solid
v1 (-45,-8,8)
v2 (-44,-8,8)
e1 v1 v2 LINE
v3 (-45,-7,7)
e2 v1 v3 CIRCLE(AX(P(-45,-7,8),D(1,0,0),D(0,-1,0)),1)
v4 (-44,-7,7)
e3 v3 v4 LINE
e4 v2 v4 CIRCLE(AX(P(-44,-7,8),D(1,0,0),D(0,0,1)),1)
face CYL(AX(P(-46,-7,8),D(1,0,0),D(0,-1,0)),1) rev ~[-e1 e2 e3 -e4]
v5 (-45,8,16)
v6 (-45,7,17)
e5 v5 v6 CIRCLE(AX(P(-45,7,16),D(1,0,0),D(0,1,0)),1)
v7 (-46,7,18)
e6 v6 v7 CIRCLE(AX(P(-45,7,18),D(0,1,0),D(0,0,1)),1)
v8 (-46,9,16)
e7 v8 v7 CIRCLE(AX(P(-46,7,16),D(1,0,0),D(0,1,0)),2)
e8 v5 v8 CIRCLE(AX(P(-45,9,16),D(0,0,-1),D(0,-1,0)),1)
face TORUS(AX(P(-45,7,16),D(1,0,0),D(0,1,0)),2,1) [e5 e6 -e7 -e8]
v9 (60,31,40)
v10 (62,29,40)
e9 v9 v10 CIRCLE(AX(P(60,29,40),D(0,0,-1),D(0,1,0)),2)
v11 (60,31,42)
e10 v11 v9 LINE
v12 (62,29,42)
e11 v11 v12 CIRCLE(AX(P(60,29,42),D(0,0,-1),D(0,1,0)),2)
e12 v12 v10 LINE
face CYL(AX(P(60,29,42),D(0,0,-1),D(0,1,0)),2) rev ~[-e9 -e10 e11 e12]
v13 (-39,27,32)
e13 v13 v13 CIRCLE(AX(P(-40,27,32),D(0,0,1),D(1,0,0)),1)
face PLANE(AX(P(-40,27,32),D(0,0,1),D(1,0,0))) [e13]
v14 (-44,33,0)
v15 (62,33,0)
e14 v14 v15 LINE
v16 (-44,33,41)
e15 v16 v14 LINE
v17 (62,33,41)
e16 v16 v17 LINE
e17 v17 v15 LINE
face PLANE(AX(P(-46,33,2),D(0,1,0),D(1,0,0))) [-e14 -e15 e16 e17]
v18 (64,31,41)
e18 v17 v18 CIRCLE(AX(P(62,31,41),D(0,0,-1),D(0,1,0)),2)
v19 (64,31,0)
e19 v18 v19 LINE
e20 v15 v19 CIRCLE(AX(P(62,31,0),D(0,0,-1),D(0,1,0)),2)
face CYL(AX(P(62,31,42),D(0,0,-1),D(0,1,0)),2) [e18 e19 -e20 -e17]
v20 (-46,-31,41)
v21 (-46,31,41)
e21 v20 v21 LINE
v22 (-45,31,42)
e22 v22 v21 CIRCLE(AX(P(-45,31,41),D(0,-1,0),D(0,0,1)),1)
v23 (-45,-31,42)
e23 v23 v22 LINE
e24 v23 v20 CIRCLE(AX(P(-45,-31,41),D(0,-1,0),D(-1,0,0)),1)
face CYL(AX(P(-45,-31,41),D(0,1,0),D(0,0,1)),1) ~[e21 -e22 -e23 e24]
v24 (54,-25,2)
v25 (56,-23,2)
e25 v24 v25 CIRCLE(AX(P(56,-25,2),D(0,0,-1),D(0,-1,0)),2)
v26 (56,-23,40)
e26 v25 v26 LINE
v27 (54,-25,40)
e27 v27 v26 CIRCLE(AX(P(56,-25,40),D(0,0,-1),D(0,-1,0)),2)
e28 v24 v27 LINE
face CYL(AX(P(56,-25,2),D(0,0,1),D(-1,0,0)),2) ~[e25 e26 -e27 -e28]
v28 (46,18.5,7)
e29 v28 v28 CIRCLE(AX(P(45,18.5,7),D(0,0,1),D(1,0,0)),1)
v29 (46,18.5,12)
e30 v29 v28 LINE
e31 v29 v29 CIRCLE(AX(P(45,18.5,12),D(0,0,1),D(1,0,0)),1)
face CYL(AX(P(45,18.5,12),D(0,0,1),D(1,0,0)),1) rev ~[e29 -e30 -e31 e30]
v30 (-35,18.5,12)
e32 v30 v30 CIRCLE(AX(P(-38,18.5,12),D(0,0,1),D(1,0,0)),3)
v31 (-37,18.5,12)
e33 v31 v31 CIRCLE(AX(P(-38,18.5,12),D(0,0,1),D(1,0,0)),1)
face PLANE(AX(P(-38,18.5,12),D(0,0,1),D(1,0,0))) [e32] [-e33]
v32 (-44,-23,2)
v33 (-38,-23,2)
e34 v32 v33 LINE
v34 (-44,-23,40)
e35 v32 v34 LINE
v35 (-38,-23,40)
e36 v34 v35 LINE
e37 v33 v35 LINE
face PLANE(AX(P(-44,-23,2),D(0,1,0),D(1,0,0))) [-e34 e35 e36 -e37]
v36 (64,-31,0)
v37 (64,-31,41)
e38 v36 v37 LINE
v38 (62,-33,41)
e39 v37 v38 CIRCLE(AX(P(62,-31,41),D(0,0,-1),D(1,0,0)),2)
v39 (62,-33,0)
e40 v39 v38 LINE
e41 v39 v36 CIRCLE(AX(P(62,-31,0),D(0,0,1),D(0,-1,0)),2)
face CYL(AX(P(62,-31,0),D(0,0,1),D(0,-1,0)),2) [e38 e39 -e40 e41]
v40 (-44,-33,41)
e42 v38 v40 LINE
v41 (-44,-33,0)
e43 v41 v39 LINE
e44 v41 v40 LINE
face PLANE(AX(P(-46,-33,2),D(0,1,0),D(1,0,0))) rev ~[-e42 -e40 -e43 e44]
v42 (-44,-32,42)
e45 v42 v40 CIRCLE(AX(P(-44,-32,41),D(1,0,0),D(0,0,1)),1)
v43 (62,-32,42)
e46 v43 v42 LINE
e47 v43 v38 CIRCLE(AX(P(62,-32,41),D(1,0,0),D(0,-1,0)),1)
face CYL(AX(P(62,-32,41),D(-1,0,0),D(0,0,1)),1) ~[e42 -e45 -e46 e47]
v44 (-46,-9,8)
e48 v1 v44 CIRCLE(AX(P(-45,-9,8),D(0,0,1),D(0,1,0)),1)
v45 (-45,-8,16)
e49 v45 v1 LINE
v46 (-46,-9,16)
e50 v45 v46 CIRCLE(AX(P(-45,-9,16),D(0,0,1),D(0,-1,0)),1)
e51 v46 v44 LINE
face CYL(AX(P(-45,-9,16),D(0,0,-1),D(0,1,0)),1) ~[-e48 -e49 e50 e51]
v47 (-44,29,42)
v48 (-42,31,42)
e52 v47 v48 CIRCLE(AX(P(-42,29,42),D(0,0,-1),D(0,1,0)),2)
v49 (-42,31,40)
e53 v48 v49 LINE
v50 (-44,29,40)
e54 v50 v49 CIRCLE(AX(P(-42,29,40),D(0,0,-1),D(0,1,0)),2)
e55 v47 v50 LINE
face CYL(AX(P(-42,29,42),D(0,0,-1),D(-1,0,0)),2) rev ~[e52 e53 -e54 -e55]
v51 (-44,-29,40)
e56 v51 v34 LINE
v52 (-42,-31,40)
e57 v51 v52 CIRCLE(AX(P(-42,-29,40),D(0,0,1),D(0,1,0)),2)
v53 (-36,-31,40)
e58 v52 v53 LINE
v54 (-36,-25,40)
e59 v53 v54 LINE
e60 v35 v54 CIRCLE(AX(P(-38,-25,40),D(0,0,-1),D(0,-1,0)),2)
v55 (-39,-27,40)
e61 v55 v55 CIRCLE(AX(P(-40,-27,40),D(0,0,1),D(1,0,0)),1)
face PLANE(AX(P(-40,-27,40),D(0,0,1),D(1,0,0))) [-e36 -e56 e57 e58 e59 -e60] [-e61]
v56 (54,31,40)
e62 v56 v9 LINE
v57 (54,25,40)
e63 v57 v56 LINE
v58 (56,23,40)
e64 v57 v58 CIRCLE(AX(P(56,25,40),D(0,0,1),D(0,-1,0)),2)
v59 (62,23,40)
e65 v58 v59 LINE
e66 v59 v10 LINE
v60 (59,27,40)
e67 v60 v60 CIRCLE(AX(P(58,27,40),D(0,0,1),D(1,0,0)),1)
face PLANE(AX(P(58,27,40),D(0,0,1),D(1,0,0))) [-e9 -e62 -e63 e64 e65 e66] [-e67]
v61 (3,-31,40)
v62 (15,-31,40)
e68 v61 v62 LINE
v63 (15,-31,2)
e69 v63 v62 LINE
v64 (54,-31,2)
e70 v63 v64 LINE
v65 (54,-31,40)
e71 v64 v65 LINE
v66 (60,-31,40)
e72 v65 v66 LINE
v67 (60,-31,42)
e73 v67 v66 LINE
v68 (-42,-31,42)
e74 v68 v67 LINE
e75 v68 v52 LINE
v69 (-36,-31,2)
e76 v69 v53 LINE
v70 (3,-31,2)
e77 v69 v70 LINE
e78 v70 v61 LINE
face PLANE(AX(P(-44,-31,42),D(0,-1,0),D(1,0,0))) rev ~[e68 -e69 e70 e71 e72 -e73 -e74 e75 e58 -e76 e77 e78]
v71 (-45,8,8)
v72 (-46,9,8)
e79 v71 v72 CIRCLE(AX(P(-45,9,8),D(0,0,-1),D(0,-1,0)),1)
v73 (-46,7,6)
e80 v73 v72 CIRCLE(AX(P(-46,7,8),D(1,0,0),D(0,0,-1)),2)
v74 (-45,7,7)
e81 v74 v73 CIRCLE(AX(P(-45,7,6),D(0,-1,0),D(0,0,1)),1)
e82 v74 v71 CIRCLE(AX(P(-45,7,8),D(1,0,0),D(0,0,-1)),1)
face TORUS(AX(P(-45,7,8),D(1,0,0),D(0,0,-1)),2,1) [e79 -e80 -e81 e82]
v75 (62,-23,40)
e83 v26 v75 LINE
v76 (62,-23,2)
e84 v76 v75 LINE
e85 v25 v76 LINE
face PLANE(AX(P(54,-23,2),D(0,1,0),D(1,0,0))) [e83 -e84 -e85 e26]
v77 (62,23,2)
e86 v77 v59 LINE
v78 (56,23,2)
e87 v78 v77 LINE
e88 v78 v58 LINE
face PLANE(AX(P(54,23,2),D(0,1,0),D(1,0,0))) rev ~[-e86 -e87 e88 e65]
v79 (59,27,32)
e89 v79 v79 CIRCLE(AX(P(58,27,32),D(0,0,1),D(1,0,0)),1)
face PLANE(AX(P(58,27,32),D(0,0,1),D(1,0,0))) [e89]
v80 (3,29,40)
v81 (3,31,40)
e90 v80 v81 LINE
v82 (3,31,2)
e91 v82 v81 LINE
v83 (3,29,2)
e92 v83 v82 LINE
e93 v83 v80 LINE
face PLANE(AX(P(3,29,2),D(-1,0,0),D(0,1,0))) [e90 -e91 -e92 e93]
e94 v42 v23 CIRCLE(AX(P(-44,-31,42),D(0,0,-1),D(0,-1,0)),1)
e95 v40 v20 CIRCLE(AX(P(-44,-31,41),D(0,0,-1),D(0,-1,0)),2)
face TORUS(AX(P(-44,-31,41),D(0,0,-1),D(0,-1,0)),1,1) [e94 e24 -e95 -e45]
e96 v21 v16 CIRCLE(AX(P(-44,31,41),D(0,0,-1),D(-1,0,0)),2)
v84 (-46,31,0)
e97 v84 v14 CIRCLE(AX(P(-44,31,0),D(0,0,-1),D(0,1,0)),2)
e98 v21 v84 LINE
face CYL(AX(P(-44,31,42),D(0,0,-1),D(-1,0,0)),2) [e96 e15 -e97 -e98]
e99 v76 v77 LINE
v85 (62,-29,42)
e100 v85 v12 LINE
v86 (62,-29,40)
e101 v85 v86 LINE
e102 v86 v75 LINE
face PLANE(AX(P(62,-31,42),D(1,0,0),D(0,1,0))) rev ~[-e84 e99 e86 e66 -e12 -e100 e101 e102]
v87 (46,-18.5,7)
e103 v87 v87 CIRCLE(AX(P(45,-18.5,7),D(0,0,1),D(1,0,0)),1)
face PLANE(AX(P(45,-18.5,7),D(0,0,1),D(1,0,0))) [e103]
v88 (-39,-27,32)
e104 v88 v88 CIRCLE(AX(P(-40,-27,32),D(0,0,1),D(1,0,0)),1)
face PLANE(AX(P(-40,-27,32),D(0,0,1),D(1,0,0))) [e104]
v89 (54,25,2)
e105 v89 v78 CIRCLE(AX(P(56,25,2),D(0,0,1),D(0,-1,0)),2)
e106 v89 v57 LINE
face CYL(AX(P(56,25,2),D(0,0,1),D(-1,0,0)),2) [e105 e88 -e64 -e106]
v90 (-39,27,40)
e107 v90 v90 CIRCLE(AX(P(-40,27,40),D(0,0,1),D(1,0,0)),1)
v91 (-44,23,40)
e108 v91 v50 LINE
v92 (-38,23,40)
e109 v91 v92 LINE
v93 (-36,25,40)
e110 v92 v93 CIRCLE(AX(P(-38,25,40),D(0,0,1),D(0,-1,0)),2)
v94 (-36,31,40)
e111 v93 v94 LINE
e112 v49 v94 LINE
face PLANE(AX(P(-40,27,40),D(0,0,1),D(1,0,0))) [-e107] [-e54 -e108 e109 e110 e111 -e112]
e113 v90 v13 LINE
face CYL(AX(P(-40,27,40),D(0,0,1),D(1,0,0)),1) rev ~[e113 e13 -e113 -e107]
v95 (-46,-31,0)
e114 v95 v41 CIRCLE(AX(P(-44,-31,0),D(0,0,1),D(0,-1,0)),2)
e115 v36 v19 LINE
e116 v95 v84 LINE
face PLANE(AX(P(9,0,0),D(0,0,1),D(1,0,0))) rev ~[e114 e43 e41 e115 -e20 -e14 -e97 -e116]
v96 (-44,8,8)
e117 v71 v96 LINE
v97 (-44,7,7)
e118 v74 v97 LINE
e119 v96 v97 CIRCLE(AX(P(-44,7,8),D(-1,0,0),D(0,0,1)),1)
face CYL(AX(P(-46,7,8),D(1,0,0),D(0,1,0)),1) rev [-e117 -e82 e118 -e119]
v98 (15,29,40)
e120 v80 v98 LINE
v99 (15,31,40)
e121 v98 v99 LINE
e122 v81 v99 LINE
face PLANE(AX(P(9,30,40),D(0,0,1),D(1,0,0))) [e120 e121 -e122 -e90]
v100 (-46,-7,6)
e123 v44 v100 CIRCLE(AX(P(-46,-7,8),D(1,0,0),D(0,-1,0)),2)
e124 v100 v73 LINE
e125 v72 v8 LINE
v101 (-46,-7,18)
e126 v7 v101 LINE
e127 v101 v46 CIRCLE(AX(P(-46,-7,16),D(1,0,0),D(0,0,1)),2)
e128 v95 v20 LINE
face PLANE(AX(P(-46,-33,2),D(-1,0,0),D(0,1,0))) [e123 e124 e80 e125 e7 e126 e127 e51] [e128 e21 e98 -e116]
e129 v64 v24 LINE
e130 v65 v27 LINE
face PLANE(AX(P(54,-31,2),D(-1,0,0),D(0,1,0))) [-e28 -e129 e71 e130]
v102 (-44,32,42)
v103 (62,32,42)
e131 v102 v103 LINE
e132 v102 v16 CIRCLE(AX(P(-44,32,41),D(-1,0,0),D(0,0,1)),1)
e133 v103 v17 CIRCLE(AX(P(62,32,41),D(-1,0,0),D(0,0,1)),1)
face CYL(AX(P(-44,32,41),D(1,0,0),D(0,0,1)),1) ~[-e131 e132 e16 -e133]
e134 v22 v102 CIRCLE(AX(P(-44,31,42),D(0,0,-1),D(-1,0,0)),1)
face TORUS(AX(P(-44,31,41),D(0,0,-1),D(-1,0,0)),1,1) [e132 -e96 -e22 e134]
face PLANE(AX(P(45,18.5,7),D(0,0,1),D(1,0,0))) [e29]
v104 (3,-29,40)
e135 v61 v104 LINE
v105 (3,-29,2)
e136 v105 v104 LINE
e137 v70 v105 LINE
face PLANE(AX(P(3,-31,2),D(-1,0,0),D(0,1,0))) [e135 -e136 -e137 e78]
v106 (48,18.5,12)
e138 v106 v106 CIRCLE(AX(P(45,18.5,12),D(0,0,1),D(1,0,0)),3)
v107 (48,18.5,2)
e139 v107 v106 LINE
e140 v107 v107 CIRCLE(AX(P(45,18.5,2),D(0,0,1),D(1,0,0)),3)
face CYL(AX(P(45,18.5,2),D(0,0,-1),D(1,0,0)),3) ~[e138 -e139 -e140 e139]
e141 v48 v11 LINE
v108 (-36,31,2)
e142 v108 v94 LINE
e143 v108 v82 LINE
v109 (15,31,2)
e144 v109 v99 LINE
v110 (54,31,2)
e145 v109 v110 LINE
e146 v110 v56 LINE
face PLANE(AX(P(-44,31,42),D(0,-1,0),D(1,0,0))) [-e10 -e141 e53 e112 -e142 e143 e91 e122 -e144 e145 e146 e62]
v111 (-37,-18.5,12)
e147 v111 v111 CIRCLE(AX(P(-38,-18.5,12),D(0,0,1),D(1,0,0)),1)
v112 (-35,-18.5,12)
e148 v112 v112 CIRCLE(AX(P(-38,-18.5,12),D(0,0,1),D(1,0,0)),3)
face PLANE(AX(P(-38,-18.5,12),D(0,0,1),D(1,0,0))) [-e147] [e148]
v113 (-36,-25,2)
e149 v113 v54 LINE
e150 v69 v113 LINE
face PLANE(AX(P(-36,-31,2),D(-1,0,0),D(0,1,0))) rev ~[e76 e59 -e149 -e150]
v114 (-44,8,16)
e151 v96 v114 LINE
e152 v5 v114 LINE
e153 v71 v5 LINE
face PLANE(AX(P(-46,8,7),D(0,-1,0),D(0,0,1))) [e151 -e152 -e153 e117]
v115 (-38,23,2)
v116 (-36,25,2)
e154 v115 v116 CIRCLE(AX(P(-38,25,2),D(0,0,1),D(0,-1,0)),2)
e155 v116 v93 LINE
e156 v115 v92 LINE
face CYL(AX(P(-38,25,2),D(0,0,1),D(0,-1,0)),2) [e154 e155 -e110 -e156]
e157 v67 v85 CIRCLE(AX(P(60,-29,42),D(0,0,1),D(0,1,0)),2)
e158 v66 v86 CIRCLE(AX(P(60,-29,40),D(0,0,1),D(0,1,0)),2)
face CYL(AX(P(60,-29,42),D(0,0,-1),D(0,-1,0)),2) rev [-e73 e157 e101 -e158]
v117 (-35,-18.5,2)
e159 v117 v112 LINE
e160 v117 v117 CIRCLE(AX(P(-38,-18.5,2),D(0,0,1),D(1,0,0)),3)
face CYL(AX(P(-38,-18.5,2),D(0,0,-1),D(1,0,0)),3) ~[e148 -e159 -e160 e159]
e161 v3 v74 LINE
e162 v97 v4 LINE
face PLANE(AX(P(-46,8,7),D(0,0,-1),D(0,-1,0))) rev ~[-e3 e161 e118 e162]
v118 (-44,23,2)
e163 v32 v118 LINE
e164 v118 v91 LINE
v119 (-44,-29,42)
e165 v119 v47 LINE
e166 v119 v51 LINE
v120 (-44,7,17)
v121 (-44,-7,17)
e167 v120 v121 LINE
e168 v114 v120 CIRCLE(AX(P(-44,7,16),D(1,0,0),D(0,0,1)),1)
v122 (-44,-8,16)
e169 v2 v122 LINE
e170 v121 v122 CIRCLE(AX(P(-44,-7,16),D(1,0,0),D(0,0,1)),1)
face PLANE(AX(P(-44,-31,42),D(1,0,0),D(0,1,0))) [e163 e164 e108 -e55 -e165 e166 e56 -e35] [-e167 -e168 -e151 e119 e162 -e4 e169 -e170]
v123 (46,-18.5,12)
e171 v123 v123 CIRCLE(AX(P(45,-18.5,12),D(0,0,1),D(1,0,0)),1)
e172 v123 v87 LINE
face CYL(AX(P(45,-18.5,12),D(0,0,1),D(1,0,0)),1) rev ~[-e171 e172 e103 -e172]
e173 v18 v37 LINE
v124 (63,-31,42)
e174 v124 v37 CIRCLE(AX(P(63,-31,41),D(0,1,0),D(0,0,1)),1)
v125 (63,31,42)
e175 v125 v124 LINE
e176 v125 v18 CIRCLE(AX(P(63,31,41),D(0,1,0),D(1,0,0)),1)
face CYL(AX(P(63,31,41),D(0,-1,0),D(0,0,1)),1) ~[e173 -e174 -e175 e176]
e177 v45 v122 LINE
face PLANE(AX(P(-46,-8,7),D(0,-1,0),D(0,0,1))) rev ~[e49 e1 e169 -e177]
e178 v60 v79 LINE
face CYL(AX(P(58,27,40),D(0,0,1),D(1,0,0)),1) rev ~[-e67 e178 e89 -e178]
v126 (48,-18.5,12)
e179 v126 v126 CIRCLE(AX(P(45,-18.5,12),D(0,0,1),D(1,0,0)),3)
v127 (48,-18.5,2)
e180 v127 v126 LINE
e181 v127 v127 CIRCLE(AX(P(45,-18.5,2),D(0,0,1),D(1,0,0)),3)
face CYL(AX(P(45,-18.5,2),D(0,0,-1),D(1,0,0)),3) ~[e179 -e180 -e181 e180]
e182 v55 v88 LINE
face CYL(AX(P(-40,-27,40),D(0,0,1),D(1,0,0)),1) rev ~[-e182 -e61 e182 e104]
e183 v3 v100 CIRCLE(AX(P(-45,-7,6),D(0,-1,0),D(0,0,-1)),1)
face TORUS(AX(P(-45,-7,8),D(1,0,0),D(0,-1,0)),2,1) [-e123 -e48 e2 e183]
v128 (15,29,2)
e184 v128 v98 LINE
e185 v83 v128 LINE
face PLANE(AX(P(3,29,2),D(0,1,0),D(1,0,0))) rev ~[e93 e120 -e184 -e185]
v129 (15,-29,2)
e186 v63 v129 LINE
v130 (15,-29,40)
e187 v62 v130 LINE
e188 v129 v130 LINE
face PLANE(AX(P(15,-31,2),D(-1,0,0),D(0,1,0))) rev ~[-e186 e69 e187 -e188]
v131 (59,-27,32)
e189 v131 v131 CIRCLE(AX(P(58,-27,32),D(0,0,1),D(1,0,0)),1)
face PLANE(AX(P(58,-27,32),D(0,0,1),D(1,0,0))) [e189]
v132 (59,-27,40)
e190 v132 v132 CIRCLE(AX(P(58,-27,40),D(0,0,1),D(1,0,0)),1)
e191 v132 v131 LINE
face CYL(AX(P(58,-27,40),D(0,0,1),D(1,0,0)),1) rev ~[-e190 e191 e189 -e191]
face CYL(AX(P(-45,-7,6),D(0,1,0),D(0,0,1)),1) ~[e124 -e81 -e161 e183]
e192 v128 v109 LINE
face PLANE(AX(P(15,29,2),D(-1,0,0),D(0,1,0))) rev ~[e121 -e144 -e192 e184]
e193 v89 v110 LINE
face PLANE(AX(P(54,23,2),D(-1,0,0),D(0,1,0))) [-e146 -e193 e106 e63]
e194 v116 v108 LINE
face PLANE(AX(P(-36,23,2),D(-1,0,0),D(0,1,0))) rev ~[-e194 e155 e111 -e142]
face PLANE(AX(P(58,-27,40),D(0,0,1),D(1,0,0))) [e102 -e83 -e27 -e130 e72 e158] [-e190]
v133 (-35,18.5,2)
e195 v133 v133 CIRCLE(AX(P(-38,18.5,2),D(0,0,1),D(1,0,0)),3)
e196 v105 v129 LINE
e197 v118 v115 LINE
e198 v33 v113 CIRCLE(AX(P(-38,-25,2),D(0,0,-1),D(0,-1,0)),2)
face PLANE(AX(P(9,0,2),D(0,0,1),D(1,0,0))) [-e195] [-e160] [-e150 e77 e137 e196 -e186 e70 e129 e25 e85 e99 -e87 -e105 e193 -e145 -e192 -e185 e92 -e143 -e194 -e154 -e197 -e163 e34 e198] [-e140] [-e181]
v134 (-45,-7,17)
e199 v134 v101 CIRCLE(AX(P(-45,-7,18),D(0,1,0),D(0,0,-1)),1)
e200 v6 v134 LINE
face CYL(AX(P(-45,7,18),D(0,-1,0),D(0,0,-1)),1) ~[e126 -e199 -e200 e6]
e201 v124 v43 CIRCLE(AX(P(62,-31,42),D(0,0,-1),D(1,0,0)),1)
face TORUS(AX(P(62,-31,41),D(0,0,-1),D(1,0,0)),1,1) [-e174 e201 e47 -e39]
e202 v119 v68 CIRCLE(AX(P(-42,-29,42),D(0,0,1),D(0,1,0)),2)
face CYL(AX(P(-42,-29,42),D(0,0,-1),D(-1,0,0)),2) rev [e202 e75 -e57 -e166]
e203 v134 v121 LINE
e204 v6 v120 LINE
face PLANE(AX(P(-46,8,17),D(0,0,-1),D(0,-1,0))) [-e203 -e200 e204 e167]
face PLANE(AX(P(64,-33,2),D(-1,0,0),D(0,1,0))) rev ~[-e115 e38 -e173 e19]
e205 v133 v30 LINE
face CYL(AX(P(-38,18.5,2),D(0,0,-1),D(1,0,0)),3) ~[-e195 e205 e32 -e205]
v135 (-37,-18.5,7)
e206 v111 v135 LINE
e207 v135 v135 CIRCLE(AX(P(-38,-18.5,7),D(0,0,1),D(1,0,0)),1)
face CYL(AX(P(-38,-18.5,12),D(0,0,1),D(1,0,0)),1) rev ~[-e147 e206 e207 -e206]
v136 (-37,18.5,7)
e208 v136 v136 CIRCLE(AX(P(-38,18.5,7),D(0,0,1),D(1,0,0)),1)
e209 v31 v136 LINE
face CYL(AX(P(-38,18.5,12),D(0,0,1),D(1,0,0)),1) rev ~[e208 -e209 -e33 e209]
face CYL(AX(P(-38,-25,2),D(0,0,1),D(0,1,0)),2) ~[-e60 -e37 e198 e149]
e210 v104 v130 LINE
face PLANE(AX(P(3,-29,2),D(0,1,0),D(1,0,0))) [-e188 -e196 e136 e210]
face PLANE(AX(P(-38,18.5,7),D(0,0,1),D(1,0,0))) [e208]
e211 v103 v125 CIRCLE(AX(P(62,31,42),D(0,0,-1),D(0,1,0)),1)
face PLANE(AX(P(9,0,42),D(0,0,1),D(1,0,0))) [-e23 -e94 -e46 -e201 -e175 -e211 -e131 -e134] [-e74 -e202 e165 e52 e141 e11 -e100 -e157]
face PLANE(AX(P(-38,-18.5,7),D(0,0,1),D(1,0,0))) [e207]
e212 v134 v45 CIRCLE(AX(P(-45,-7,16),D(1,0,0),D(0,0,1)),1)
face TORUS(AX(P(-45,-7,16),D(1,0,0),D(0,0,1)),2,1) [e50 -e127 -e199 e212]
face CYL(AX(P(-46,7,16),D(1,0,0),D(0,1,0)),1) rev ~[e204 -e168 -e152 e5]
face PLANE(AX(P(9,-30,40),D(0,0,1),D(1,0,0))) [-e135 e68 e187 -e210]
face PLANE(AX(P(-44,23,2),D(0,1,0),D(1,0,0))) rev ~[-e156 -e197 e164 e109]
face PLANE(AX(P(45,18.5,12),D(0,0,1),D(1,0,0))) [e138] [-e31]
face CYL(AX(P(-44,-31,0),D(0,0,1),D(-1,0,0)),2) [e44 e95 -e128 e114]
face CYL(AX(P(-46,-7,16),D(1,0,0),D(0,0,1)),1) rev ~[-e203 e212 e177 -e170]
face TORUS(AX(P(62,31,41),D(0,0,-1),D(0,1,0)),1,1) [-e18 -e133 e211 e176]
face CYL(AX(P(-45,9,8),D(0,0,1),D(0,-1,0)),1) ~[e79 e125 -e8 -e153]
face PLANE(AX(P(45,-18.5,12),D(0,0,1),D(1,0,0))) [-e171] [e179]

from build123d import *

# Parameters (mm, degrees)
SKETCH008_W     = 110
SKETCH008_H     = 66
PAD006_DEPTH    = 2
SKETCH010_W     = 110
SKETCH010_H     = 66
PAD008_DEPTH    = 40
SKETCH011_W     = 106
SKETCH011_H     = 62
POCKET003_DEPTH = 40
SKETCH012_W     = 8
SKETCH012_H     = 8
PAD009_DEPTH    = 38
FILLET_R        = 2
FILLET001_R     = 2
FILLET002_R     = 2
FILLET003_R     = 2
FILLET004_R     = 2
SKETCH009_R     = 3
PAD010_DEPTH    = 10
SKETCH013_W     = 16
SKETCH013_H     = 10
POCKET004_DEPTH = 2
SKETCH014_R     = 1
POCKET005_DEPTH = 8
FILLET005_R     = 1
FILLET006_R     = 1
FILLET007_R     = 2
SKETCH015_R     = 1
POCKET006_DEPTH = 5
FILLET008_R     = 1
SKETCH016_W     = 12
SKETCH016_H     = 2
PAD011_DEPTH    = 38


with BuildPart() as part:
    # Sketch008 → Pad006 (new body)
    with BuildSketch(Plane.XY):
        with Locations((9, 0)):
            Rectangle(SKETCH008_W, SKETCH008_H)
    extrude(amount=PAD006_DEPTH)

    # Sketch010 (on Face6 of Pad006) → Pad008 (join)
    with BuildSketch(Plane.XY.offset(2)):
        with Locations((9, 0)):
            Rectangle(SKETCH010_W, SKETCH010_H)
    extrude(amount=PAD008_DEPTH)

    # Sketch011 (on Face9 of Pad008) → Pocket003 (cut)
    with BuildSketch(Plane.XY.offset(42)):
        with Locations((9, 0)):
            Rectangle(SKETCH011_W, SKETCH011_H)
    extrude(amount=-POCKET003_DEPTH, mode=Mode.SUBTRACT)

    # Sketch012 (on Face15 of Pocket003) → Pad009 (join)
    with BuildSketch(Plane.XY.offset(2)):
        with Locations((-40, 27)):
            Rectangle(SKETCH012_W, SKETCH012_H)
        with Locations((58, 27)):
            Rectangle(SKETCH012_W, SKETCH012_H)
        with Locations((-40, -27)):
            Rectangle(SKETCH012_W, SKETCH012_H)
        with Locations((58, -27)):
            Rectangle(SKETCH012_W, SKETCH012_H)
    extrude(amount=PAD009_DEPTH)

    # Fillet
    fillet_edges = [part.edges().sort_by_distance(p)[0] for p in [
        (62, -31, 41),
    ]]
    fillet(fillet_edges, radius=FILLET_R)

    # Fillet001
    fillet001_edges = [part.edges().sort_by_distance(p)[0] for p in [
        (-44, 31, 41),
    ]]
    fillet(fillet001_edges, radius=FILLET001_R)

    # Fillet002
    fillet002_edges = [part.edges().sort_by_distance(p)[0] for p in [
        (62, 31, 41),
    ]]
    fillet(fillet002_edges, radius=FILLET002_R)

    # Fillet003
    fillet003_edges = [part.edges().sort_by_distance(p)[0] for p in [
        (-44, -31, 41),
    ]]
    fillet(fillet003_edges, radius=FILLET003_R)

    # Fillet004
    fillet004_edges = [part.edges().sort_by_distance(p)[0] for p in [
        (64, 33, 22),
        (64, -33, 22),
        (-46, -33, 22),
        (-46, 33, 22),
    ]]
    fillet(fillet004_edges, radius=FILLET004_R)

    # Sketch009 → Pad010 (join)
    with BuildSketch(Plane.XY.offset(2)):
        with Locations((-38, 18.5)):
            Circle(SKETCH009_R)
        with Locations((45, 18.5)):
            Circle(SKETCH009_R)
        with Locations((-38, -18.5)):
            Circle(SKETCH009_R)
        with Locations((45, -18.5)):
            Circle(SKETCH009_R)
    extrude(amount=PAD010_DEPTH)

    # Sketch013 (on Face5 of Pad010) → Pocket004 (cut)
    with BuildSketch(Plane(origin=(-46, 0, 0), x_dir=(0, -1, 0), z_dir=(-1, 0, 0))):
        with Locations((0, 12)):
            Rectangle(SKETCH013_W, SKETCH013_H)
    extrude(amount=-POCKET004_DEPTH, mode=Mode.SUBTRACT)

    # Sketch014 (on Face35 of Pocket004) → Pocket005 (cut)
    with BuildSketch(Plane.XY.offset(40)):
        with Locations((-40, 27)):
            Circle(SKETCH014_R)
        with Locations((58, 27)):
            Circle(SKETCH014_R)
        with Locations((-40, -27)):
            Circle(SKETCH014_R)
        with Locations((58, -27)):
            Circle(SKETCH014_R)
    extrude(amount=-POCKET005_DEPTH, mode=Mode.SUBTRACT)

    # Fillet005
    fillet005_edges = [part.edges().sort_by_distance(p)[0] for p in [
        (9, 33, 42),
        (63.414214, 32.414214, 42),
        (64, 0, 42),
        (-45.414214, 32.414214, 42),
        (-46, 0, 42),
        (-45.414214, -32.414214, 42),
        (9, -33, 42),
        (63.414214, -32.414214, 42),
    ]]
    fillet(fillet005_edges, radius=FILLET005_R)

    # Fillet006
    fillet006_edges = [part.edges().sort_by_distance(p)[0] for p in [
        (-45, -8, 17),
        (-45, 8, 7),
        (-45, 8, 17),
        (-45, -8, 7),
    ]]
    fillet(fillet006_edges, radius=FILLET006_R)

    # Fillet007
    fillet007_edges = [part.edges().sort_by_distance(p)[0] for p in [
        (54, 23, 21),
        (54, -23, 21),
        (-36, 23, 21),
        (-36, -23, 21),
    ]]
    fillet(fillet007_edges, radius=FILLET007_R)

    # Sketch015 (on Face55 of Fillet007) → Pocket006 (cut)
    with BuildSketch(Plane.XY.offset(12)):
        with Locations((-38, 18.5)):
            Circle(SKETCH015_R)
        with Locations((45, 18.5)):
            Circle(SKETCH015_R)
        with Locations((-38, -18.5)):
            Circle(SKETCH015_R)
        with Locations((45, -18.5)):
            Circle(SKETCH015_R)
    extrude(amount=-POCKET006_DEPTH, mode=Mode.SUBTRACT)

    # Fillet008
    fillet008_edges = [part.edges().sort_by_distance(p)[0] for p in [
        (-46, 8, 12),
        (-46, 7.707107, 7.292893),
        (-46, 7.707107, 16.707107),
        (-46, 0, 17),
        (-46, -7.707107, 16.707107),
        (-46, -8, 12),
        (-46, -7.707107, 7.292893),
        (-46, 0, 7),
    ]]
    fillet(fillet008_edges, radius=FILLET008_R)

    # Sketch016 (on Face21 of Fillet008) → Pad011 (join)
    with BuildSketch(Plane.XY.offset(2)):
        with Locations((9, 30)):
            Rectangle(SKETCH016_W, SKETCH016_H)
        with Locations((9, -30)):
            Rectangle(SKETCH016_W, SKETCH016_H)
    extrude(amount=PAD011_DEPTH)


solid = part.part
